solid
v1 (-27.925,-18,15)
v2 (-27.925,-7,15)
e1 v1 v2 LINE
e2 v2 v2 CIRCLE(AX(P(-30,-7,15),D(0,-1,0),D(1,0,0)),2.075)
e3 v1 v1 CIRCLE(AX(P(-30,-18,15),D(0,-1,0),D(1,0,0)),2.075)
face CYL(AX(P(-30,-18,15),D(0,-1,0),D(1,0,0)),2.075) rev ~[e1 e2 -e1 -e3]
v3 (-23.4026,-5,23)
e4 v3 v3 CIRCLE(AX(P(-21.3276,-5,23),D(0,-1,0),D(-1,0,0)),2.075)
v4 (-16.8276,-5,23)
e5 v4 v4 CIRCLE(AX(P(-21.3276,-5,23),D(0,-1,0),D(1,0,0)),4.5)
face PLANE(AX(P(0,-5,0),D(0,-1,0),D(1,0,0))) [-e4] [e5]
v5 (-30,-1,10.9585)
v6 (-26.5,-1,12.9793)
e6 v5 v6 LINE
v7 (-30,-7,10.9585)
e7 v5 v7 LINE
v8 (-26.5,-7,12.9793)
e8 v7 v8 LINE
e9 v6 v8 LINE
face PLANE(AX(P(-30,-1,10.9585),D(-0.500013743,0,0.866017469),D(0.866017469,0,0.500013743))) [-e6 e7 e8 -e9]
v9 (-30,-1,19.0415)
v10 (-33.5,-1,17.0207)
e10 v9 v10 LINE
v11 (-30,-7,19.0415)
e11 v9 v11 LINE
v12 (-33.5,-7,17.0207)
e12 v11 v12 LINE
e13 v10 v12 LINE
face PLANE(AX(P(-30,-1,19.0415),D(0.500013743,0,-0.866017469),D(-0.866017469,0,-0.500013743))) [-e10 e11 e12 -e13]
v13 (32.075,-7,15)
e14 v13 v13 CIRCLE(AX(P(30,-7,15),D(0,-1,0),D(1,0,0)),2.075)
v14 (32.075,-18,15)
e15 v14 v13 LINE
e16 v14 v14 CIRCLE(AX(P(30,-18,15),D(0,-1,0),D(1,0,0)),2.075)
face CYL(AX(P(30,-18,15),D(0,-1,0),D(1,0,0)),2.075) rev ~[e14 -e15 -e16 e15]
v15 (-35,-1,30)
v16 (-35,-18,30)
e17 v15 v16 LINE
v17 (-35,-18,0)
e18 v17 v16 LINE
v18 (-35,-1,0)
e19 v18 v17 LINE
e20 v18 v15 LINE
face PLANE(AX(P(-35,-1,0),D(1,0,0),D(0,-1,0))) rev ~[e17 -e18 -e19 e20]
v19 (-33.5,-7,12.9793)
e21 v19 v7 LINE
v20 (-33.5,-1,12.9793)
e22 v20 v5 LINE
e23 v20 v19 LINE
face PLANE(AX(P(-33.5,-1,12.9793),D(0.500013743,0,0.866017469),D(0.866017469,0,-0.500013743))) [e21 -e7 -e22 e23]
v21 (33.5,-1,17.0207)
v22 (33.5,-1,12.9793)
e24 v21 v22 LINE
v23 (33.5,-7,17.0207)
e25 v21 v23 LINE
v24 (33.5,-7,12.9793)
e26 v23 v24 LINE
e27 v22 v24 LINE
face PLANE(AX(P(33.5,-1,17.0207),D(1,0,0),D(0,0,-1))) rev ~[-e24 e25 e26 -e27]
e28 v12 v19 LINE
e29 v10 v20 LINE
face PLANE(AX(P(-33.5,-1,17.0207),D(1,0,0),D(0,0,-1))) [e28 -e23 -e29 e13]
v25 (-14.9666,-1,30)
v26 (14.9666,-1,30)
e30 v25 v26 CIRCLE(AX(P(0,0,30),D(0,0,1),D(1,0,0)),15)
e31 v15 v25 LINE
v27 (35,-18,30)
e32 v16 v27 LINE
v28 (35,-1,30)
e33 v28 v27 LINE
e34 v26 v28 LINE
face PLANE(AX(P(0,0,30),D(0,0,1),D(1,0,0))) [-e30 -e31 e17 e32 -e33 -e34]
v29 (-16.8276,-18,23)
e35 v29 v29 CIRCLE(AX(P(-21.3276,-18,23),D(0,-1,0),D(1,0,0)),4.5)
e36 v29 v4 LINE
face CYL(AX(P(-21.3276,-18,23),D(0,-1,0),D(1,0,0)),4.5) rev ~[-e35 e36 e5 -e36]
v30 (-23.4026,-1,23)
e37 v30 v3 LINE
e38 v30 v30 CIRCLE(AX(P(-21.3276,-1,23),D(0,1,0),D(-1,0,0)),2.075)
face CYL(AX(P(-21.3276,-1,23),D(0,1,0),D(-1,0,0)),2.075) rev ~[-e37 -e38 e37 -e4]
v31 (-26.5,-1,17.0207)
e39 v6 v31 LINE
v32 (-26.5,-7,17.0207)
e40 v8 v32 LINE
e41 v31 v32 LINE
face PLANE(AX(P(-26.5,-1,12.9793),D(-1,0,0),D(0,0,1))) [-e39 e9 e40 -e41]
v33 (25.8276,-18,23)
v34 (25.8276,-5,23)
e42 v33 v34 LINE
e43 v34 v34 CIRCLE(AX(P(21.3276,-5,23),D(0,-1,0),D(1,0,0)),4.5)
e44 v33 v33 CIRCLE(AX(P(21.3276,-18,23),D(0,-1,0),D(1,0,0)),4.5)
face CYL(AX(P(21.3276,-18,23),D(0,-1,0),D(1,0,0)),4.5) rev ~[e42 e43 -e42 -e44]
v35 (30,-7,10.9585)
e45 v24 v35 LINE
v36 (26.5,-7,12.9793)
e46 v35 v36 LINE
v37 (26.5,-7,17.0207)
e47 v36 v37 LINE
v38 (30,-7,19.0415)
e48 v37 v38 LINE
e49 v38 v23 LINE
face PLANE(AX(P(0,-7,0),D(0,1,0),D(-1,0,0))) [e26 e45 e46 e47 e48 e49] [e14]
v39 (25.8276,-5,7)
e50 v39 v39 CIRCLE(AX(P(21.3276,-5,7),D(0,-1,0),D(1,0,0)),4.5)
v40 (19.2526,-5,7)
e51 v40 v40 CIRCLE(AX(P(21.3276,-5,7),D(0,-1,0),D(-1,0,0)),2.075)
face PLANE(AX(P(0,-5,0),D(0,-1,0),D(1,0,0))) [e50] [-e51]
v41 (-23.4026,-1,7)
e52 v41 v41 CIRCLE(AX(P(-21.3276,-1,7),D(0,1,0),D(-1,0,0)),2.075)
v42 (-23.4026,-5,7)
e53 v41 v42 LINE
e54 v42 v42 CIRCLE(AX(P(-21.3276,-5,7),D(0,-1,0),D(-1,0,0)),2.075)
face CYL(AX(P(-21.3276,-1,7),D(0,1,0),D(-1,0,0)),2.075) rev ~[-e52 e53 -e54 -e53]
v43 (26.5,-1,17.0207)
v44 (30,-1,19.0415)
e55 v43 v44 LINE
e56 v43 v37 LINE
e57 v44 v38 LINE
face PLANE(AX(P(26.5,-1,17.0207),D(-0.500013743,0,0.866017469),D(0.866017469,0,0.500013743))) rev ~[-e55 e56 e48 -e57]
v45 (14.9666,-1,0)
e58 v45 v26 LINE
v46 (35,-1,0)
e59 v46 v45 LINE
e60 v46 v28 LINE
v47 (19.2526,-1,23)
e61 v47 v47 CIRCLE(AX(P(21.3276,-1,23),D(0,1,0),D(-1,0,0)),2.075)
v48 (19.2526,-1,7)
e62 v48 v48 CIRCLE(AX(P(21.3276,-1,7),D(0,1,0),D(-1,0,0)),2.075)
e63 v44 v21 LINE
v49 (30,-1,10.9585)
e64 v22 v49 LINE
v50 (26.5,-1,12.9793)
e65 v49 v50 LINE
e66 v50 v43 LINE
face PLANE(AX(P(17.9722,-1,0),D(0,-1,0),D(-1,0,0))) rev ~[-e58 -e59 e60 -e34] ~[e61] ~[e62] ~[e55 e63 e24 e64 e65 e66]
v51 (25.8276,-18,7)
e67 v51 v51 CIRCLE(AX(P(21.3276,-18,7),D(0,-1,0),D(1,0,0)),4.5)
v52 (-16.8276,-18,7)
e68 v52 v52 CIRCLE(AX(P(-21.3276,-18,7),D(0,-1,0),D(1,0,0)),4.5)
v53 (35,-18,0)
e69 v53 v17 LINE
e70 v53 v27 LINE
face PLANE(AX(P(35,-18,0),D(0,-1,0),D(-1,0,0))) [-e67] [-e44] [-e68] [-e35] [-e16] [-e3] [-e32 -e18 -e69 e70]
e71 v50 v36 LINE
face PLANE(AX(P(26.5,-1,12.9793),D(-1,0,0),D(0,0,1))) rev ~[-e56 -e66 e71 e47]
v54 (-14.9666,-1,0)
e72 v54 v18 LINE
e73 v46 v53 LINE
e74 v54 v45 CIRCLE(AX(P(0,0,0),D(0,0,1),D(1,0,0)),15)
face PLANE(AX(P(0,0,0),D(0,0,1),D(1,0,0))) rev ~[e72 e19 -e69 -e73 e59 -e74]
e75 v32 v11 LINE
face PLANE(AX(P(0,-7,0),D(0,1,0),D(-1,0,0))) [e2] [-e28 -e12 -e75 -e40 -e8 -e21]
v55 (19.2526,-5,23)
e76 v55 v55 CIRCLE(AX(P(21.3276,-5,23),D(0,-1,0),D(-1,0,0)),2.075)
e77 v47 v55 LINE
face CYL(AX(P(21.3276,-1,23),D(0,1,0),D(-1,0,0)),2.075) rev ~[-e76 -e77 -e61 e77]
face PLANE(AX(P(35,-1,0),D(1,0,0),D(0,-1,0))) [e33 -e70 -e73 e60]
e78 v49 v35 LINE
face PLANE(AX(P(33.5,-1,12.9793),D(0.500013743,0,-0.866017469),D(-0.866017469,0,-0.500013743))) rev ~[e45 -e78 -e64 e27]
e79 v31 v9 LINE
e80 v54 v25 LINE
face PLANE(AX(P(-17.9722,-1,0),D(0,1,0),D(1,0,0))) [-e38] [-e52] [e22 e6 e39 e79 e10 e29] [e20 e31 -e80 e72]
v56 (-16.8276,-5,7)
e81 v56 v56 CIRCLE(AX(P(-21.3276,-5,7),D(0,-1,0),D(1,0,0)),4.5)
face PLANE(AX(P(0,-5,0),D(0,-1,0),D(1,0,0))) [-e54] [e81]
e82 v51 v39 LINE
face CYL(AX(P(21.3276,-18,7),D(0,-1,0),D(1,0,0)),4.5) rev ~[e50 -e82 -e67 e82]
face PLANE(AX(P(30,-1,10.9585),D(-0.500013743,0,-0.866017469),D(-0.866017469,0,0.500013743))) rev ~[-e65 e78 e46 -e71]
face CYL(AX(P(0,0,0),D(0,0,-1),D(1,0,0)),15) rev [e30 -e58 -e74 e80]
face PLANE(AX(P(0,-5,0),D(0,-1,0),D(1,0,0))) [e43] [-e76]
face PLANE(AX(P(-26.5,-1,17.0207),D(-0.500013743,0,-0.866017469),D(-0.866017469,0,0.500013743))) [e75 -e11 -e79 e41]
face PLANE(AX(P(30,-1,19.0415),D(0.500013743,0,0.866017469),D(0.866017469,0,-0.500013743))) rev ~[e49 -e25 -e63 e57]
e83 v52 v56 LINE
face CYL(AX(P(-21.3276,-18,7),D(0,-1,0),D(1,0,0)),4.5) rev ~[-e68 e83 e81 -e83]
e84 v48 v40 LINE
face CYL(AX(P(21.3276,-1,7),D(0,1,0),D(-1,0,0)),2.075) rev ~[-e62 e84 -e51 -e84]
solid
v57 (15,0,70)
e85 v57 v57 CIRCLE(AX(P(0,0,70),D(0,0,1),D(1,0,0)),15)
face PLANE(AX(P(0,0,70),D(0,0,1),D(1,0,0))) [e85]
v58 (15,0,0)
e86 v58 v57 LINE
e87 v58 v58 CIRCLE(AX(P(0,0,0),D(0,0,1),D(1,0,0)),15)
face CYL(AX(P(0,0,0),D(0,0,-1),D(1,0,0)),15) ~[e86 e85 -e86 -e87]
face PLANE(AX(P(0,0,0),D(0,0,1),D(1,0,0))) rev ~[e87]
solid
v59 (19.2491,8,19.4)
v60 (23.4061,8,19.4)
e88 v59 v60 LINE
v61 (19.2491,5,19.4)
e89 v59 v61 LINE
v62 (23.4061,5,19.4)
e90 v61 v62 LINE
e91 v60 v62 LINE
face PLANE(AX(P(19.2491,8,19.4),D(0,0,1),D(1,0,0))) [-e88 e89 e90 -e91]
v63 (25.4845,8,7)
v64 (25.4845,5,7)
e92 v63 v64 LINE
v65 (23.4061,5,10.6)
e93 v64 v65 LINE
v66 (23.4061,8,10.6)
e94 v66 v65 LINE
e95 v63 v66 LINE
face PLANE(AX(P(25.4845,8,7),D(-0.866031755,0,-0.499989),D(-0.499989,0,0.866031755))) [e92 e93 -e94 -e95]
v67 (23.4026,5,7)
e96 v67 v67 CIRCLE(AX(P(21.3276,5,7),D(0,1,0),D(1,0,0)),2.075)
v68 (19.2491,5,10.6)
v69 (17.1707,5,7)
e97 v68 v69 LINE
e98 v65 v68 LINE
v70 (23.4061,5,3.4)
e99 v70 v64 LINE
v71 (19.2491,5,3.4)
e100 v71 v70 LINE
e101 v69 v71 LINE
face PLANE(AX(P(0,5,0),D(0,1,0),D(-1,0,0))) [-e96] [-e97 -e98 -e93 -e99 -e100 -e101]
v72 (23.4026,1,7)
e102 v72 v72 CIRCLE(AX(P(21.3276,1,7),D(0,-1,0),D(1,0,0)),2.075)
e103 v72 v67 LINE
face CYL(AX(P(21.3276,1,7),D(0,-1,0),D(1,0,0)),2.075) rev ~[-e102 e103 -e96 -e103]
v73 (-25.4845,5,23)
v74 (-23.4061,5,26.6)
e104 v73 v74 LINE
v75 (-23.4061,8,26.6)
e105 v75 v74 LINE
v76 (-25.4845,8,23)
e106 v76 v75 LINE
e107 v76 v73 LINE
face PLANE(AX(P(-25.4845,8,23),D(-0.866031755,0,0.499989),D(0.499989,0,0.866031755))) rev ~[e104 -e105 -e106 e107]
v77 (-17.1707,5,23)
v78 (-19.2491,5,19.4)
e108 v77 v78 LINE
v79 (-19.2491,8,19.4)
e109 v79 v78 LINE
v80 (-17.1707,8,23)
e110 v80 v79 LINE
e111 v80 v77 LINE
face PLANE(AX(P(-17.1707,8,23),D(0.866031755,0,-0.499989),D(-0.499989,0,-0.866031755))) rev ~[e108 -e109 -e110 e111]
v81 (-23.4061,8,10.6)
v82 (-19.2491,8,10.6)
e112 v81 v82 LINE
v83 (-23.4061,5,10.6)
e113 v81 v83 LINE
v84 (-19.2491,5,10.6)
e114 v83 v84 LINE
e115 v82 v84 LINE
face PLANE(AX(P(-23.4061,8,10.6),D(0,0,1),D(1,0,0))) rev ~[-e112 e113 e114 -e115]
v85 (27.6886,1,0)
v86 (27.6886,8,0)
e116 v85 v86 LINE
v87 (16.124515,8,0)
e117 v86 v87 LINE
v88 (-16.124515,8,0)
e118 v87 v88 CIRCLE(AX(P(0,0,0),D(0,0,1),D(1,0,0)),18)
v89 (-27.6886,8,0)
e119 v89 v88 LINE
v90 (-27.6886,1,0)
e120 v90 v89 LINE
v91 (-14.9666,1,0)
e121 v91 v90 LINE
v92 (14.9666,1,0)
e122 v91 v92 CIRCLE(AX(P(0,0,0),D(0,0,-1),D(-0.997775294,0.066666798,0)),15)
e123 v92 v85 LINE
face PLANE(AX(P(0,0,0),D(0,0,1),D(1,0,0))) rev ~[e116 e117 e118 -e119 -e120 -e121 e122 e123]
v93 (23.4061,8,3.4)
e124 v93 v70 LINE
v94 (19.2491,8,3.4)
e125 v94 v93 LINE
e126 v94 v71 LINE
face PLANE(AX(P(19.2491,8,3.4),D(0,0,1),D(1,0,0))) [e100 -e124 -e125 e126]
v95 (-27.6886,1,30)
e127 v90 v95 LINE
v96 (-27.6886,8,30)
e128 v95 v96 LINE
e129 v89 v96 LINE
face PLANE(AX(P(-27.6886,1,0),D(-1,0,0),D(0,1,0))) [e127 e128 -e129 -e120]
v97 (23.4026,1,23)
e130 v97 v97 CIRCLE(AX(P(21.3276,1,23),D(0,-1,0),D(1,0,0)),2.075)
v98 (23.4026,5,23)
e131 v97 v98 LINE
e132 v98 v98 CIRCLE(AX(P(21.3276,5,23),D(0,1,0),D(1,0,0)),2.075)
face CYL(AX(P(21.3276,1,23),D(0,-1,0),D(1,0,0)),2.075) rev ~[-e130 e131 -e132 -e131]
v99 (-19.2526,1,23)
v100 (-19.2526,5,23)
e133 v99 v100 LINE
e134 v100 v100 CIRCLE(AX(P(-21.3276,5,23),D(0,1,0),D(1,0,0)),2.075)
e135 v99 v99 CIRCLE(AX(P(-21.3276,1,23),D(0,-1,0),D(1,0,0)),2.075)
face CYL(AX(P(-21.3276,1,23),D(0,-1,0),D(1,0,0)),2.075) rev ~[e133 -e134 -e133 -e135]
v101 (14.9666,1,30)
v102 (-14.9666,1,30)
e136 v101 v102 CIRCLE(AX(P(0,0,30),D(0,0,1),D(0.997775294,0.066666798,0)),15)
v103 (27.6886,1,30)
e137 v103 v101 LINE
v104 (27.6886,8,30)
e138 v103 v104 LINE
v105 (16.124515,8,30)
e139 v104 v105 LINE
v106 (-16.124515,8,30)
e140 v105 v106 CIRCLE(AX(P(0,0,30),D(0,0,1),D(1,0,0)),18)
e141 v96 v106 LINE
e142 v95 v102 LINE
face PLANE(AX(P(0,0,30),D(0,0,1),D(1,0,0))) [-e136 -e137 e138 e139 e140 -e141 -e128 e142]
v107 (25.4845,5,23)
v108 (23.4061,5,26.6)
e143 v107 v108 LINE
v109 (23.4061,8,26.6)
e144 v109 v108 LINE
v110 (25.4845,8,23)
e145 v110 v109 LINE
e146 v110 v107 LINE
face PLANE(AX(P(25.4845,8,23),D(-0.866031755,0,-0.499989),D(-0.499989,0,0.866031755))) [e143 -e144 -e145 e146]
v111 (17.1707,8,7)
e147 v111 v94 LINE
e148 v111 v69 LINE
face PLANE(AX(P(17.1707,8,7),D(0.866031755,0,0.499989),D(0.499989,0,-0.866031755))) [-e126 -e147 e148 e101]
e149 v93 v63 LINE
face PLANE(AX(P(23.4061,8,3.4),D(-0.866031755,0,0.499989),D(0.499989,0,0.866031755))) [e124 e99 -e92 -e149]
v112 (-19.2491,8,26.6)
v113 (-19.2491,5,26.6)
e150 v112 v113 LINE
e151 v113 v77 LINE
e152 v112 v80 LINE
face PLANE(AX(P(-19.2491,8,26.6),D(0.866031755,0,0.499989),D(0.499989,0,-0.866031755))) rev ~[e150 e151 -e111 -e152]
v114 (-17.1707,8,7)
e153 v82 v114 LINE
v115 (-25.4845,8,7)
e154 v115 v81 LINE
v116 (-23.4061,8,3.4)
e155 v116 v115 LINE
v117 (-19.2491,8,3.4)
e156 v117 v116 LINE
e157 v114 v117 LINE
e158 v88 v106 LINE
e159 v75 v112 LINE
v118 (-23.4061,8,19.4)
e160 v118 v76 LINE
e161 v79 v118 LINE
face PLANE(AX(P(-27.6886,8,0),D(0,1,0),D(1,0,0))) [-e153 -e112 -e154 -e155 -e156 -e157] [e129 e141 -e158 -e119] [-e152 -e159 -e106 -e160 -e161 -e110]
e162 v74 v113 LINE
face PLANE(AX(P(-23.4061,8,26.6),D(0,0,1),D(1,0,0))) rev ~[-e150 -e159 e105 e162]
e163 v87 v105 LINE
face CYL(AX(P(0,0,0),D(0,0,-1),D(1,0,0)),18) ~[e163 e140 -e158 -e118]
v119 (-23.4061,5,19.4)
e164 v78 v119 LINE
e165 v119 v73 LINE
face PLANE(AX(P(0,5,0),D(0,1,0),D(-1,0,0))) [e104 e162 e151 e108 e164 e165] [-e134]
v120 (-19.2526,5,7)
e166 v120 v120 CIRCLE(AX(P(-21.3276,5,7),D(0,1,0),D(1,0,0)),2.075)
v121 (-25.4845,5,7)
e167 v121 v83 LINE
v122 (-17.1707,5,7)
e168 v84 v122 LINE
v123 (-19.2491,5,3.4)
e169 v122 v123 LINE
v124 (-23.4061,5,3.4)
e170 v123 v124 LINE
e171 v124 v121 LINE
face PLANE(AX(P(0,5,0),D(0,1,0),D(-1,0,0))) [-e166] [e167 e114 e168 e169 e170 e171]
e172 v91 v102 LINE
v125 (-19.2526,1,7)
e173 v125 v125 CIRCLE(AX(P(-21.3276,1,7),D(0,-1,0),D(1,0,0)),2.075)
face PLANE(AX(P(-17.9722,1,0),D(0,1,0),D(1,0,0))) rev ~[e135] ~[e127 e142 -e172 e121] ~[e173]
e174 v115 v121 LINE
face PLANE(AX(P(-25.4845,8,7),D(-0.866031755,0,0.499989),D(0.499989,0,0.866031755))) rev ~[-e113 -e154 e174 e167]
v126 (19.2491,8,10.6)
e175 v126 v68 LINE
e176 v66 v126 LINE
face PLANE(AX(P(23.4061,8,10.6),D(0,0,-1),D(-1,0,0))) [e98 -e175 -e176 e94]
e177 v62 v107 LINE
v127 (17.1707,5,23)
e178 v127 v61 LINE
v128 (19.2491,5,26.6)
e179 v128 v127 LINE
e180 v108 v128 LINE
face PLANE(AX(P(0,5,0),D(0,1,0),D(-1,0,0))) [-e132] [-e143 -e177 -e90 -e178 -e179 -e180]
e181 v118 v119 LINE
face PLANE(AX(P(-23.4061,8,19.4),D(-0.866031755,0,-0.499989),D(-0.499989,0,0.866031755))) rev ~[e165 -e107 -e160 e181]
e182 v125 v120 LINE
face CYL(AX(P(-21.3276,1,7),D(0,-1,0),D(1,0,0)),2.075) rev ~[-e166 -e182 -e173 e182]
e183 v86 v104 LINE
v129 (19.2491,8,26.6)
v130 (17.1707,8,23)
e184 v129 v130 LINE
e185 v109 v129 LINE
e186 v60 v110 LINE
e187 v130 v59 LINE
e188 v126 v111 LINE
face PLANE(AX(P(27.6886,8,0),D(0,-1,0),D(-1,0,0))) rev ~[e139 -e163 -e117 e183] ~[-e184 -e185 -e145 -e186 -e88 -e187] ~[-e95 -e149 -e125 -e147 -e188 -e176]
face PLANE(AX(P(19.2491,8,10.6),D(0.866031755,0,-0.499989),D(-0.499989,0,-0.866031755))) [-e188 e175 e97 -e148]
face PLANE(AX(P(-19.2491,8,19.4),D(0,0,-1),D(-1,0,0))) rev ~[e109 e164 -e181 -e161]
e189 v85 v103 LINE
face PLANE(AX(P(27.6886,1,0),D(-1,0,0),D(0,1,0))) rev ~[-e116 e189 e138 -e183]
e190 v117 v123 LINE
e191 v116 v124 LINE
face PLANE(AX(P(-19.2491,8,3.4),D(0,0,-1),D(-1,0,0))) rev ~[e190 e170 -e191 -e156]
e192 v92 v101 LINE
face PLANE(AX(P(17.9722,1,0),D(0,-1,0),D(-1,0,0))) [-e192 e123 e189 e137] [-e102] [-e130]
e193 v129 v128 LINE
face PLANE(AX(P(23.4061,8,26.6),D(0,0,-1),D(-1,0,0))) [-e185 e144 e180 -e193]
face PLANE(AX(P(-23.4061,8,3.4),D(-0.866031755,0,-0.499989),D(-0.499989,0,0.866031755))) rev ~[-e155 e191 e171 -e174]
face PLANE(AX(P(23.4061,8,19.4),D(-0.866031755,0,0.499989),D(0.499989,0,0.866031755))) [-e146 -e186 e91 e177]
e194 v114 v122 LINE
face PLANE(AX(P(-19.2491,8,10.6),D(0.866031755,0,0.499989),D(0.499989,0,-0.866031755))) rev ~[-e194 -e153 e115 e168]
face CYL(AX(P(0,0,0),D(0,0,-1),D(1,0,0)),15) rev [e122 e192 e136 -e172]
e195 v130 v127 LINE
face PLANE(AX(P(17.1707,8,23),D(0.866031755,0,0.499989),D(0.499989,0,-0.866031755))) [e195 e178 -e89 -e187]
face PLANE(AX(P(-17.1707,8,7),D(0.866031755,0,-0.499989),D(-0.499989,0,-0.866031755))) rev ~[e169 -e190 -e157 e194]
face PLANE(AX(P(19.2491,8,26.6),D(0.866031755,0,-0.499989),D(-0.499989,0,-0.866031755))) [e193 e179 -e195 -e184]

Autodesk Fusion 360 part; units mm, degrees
sketch "Sketch1" plane through (0, 0, 0) normal (0, 0, 1) x (1, 0, 0) in component "Pipe"
  circle A0 centre (0, 0) radius 15
  dimension "d1" = 30
extrude "Extrude1" add sketch "Sketch1" along normal blind 70 makes body 1 in component "Pipe"
sketch "Sketch1 (2)" plane through (0, 0, 0) normal (0, 0, 1) x (1, 0, 0) in component "holder_under"
  circle A0 centre (0, 0) radius 15
  circle A1 centre (0, 0) radius 18
  line L0 (-17.9722, 1) -> (-27.6886, 1)
  line L1 (-27.6886, 1) -> (-27.6886, 8)
  line L2 (-27.6886, 8) -> (-12.6886, 8)
  line L3 (0, 0) -> (0, 15) construction
  line L4 (27.6886, 8) -> (12.6886, 8)
  line L5 (27.6886, 1) -> (27.6886, 8)
  line L6 (17.9722, 1) -> (27.6886, 1)
  line L7 (-17.9722, 1) -> (-14.9666, 1)
  line L8 (17.9722, 1) -> (14.9666, 1)
  dimension "d4" = 3
  dimension "d5" = 7
  dimension "d6" = 15
  dimension "d7" = 1
extrude "Extrude1'" add sketch "Sketch1 (2)" along normal blind 30 separate body contours A0 A1 L4 L8 | A0 A1 L2 L7 | A0 A1 L2 L4 | A1 L4 L5 L6 | A1 L0 L1 L2 makes body 2 in component "holder_under"
sketch "Sketch2" plane through (0, 1, 0) normal (0, -1, 0) x (1, 0, 0) in component "holder_under"
  line L0 (14.9666, 0) -> (27.6886, 0)
  line L1 (27.6886, 0) -> (27.6886, 30)
  line L2 (27.6886, 30) -> (14.9666, 30)
  line L3 (14.9666, 30) -> (14.9666, 0)
  line L4 (-21.3276, 30) -> (-21.3276, 0) construction
  line L5 (-27.6886, 30) -> (-14.9666, 30)
  line L6 (-14.9666, 0) -> (-27.6886, 0)
  line L7 (0, 0) -> (0, 30) construction
  line L8 (-14.9666, 30) -> (14.9666, 30)
  circle A0 centre (-21.3276, 23) radius 2.075
  circle A1 centre (-21.3276, 7) radius 2.075
  circle A2 centre (21.3276, 23) radius 2.075
  circle A3 centre (21.3276, 7) radius 2.075
  dimension "d10" = 4.15
  dimension "d11" = 4.15
  dimension "d12" = 7
  dimension "d13" = 7
extrude "Extrude2" cut sketch "Sketch2" against normal up to surface (7 mm away) contours A0 | A1 | A2 | A3 bodies 2 in component "holder_under"
sketch "Sketch1 (3)" plane through (0, 0, 0) normal (0, 0, 1) x (1, 0, 0) in component "holder_top"
  circle A0 centre (0, 0) radius 15
  circle A1 centre (0, 0) radius 18
  line L0 (-17.9722, -1) -> (-35, -1)
  line L1 (-35, -1) -> (-35, -18)
  line L2 (-35, -18) -> (0, -18)
  line L3 (0, 0) -> (0, -18) construction
  line L4 (35, -1) -> (35, -18)
  line L5 (35, -18) -> (0, -18)
  line L6 (17.9722, -1) -> (35, -1)
  line L7 (17.9722, -1) -> (14.9666, -1)
  line L8 (-17.9722, -1) -> (-14.9666, -1)
  dimension "d16" = 3
  dimension "d17" = 1
  dimension "d18" = 35
extrude "Extrude1''" add sketch "Sketch1 (3)" along normal up to surface (30 mm away) separate body contours A0 A1 L7 L8 | A1 L0 L1 L2 | A1 L4 L5 L6 picked at (-1.1817, -16.9303) makes body 3 in component "holder_top"
sketch "Sketch2 (2)" plane through (0, -1, 0) normal (0, 1, 0) x (-1, 0, 0) in component "holder_top"
  line L0 (-14.9666, 30) -> (-35, 30)
  line L1 (-35, 30) -> (-35, 0)
  line L2 (-35, 0) -> (-14.9666, 0)
  line L3 (-14.9666, 0) -> (-14.9666, 30)
  circle A0 centre (-21.3276, 23) radius 2.075
  circle A1 centre (-21.3276, 7) radius 2.075
  circle A2 centre (21.3276, 7) radius 2.075
  circle A3 centre (21.3276, 23) radius 2.075
extrude "Extrude2'" cut sketch "Sketch2 (2)" against normal up to surface (17 mm away) contours A0 | A1 | A2 | A3 bodies 3 in component "holder_top"
sketch "Sketch3" plane through (0, 8, 0) normal (0, 1, 0) x (-1, 0, 0) in component "holder_under"
  circle A0 centre (21.3276, 7) radius 2.075
  circle A1 centre (21.3276, 23) radius 2.075
  line L0 (16.1245, 0) -> (27.6886, 0)
  line L1 (27.6886, 0) -> (27.6886, 30)
  line L2 (27.6886, 30) -> (16.1245, 30)
  line L3 (16.1245, 30) -> (16.1245, 0)
  line L4 (23.4061, 19.4) -> (25.4845, 23)
  line L5 (25.4845, 23) -> (23.4061, 26.6)
  line L6 (23.4061, 26.6) -> (19.2491, 26.6)
  line L7 (19.2491, 26.6) -> (17.1707, 23)
  line L8 (17.1707, 23) -> (19.2491, 19.4)
  line L9 (19.2491, 19.4) -> (23.4061, 19.4)
  line L10 (19.2491, 10.6) -> (17.1707, 7)
  line L11 (17.1707, 7) -> (19.2491, 3.4)
  line L12 (19.2491, 3.4) -> (23.4061, 3.4)
  line L13 (23.4061, 3.4) -> (25.4845, 7)
  line L14 (25.4845, 7) -> (23.4061, 10.6)
  line L15 (23.4061, 10.6) -> (19.2491, 10.6)
  line L16 (0, 0) -> (0, 30) construction
  line L17 (16.1245, 30) -> (-16.1245, 30)
  line L18 (-19.2491, 19.4) -> (-23.4061, 19.4)
  line L19 (-23.4061, 3.4) -> (-25.4845, 7)
  line L20 (-25.4845, 23) -> (-23.4061, 26.6)
  line L21 (-25.4845, 7) -> (-23.4061, 10.6)
  circle A2 centre (-21.3276, 7) radius 2.075
  circle A3 centre (-21.3276, 23) radius 2.075
  line L22 (-23.4061, 19.4) -> (-25.4845, 23)
  line L23 (-19.2491, 10.6) -> (-17.1707, 7)
  line L24 (-19.2491, 26.6) -> (-17.1707, 23)
  line L25 (-17.1707, 7) -> (-19.2491, 3.4)
  line L26 (-23.4061, 26.6) -> (-19.2491, 26.6)
  line L27 (-23.4061, 10.6) -> (-19.2491, 10.6)
  line L28 (-17.1707, 23) -> (-19.2491, 19.4)
  line L29 (-19.2491, 3.4) -> (-23.4061, 3.4)
  point P0 (21.3276, 23)
  point P1 (21.3276, 7)
  point P2 (-21.3276, 23)
  point P3 (-21.3276, 7)
  dimension "d23" = 7.2
  dimension "d24" = 7.2
extrude "Extrude3" cut sketch "Sketch3" against normal blind 3 contours L4 L5 L6 L7 L8 L9 | L10 L11 L12 L13 L14 L15 | L18 L20 L22 L24 L26 L28 | L19 L21 L23 L25 L27 L29 bodies 2 in component "holder_under"
sketch "Sketch3 (2)" plane through (0, -18, 0) normal (0, -1, 0) x (1, 0, 0) in component "holder_top"
  circle A0 centre (21.3276, 7) radius 2.075
  circle A1 centre (-21.3276, 7) radius 2.075
  circle A2 centre (21.3276, 23) radius 2.075
  circle A3 centre (-21.3276, 23) radius 2.075
  line L0 (35, 30) -> (-35, 30)
  line L1 (-35, 30) -> (-35, 0)
  line L2 (-35, 0) -> (35, 0)
  line L3 (35, 0) -> (35, 30)
  circle A4 centre (-21.3276, 23) radius 4.5
  circle A5 centre (-21.3276, 7) radius 4.5
  circle A6 centre (21.3276, 7) radius 4.5
  circle A7 centre (21.3276, 23) radius 4.5
  dimension "d27" = 9
  dimension "d28" = 9
  dimension "d29" = 9
  dimension "d30" = 9
extrude "Extrude3'" cut sketch "Sketch3 (2)" against normal up to surface (13 mm away) contours A4 | A5 | A6 | A7 bodies 3 in component "holder_top"
sketch "Sketch1 (4)" plane through (0, -18, 0) normal (0, -1, 0) x (1, 0, 0)
  circle A0 centre (-21.3276, 7) radius 4.5
  circle A1 centre (21.3276, 7) radius 4.5
  circle A2 centre (-21.3276, 23) radius 4.5
  circle A3 centre (21.3276, 23) radius 4.5
  line L0 (35, 30) -> (-35, 30)
  line L1 (-35, 30) -> (-35, 0)
  line L2 (-35, 0) -> (35, 0)
  line L3 (35, 0) -> (35, 30)
sketch "Sketch4" plane through (0, -18, 15) normal (0, -1, 0) x (1, 0, 0) in component "holder_top"
  line L0 (0, 0) -> (-35, 0) construction
  line L1 (-35, 15) -> (-35, -15)
  line L2 (0, 0) -> (0, 15) construction
  circle A0 centre (-30, 0) radius 2.075
  line L3 (35, 15) -> (-35, 15)
  circle A1 centre (30, 0) radius 2.075
  dimension "d33" = 4.15
  dimension "d34" = 5
extrude "Extrude4" cut sketch "Sketch4" against normal up to surface (17 mm away) bodies 3 in component "holder_top"
sketch "Sketch5" plane through (0, -1, 0) normal (0, 1, 0) x (-1, 0, 0) in component "holder_top"
  circle A0 centre (-30, 15) radius 2.075
  circle A1 centre (-21.3276, 7) radius 2.075
  circle A2 centre (-21.3276, 23) radius 2.075
  line L0 (-14.9666, 30) -> (-35, 30)
  line L1 (-35, 30) -> (-35, 0)
  line L2 (-35, 0) -> (-14.9666, 0)
  line L3 (-14.9666, 0) -> (-14.9666, 30)
  line L4 (-30, 19.0415) -> (-33.5, 17.0207)
  line L5 (-33.5, 17.0207) -> (-33.5, 12.9793)
  line L6 (-33.5, 12.9793) -> (-30, 10.9585)
  line L7 (-30, 10.9585) -> (-26.5, 12.9793)
  line L8 (-26.5, 12.9793) -> (-26.5, 17.0207)
  line L9 (-26.5, 17.0207) -> (-30, 19.0415)
  line L10 (0, 0) -> (0, 30) construction
  line L11 (-35, 30) -> (35, 30)
  line L12 (26.5, 17.0207) -> (30, 19.0415)
  line L13 (30, 19.0415) -> (33.5, 17.0207)
  line L14 (33.5, 17.0207) -> (33.5, 12.9793)
  line L15 (33.5, 12.9793) -> (30, 10.9585)
  line L16 (30, 10.9585) -> (26.5, 12.9793)
  line L17 (26.5, 12.9793) -> (26.5, 17.0207)
  point P0 (-30, 15)
  dimension "d40" = 7
extrude "Extrude5" cut sketch "Sketch5" against normal blind 6 contours L4 L5 L6 L7 L8 L9 | L12 L13 L14 L15 L16 L17 bodies 3 in component "holder_top"
component "Pipe" placed x (1, 0, 0) y (0, 1, 0) z (0, 0, 1) at (0, 0, 0)
component "holder_under" placed x (1, 0, 0) y (0, 1, 0) z (0, 0, 1) at (0, 0, 0)
component "holder_top" placed x (1, 0, 0) y (0, 1, 0) z (0, 0, 1) at (0, 0, 0)
